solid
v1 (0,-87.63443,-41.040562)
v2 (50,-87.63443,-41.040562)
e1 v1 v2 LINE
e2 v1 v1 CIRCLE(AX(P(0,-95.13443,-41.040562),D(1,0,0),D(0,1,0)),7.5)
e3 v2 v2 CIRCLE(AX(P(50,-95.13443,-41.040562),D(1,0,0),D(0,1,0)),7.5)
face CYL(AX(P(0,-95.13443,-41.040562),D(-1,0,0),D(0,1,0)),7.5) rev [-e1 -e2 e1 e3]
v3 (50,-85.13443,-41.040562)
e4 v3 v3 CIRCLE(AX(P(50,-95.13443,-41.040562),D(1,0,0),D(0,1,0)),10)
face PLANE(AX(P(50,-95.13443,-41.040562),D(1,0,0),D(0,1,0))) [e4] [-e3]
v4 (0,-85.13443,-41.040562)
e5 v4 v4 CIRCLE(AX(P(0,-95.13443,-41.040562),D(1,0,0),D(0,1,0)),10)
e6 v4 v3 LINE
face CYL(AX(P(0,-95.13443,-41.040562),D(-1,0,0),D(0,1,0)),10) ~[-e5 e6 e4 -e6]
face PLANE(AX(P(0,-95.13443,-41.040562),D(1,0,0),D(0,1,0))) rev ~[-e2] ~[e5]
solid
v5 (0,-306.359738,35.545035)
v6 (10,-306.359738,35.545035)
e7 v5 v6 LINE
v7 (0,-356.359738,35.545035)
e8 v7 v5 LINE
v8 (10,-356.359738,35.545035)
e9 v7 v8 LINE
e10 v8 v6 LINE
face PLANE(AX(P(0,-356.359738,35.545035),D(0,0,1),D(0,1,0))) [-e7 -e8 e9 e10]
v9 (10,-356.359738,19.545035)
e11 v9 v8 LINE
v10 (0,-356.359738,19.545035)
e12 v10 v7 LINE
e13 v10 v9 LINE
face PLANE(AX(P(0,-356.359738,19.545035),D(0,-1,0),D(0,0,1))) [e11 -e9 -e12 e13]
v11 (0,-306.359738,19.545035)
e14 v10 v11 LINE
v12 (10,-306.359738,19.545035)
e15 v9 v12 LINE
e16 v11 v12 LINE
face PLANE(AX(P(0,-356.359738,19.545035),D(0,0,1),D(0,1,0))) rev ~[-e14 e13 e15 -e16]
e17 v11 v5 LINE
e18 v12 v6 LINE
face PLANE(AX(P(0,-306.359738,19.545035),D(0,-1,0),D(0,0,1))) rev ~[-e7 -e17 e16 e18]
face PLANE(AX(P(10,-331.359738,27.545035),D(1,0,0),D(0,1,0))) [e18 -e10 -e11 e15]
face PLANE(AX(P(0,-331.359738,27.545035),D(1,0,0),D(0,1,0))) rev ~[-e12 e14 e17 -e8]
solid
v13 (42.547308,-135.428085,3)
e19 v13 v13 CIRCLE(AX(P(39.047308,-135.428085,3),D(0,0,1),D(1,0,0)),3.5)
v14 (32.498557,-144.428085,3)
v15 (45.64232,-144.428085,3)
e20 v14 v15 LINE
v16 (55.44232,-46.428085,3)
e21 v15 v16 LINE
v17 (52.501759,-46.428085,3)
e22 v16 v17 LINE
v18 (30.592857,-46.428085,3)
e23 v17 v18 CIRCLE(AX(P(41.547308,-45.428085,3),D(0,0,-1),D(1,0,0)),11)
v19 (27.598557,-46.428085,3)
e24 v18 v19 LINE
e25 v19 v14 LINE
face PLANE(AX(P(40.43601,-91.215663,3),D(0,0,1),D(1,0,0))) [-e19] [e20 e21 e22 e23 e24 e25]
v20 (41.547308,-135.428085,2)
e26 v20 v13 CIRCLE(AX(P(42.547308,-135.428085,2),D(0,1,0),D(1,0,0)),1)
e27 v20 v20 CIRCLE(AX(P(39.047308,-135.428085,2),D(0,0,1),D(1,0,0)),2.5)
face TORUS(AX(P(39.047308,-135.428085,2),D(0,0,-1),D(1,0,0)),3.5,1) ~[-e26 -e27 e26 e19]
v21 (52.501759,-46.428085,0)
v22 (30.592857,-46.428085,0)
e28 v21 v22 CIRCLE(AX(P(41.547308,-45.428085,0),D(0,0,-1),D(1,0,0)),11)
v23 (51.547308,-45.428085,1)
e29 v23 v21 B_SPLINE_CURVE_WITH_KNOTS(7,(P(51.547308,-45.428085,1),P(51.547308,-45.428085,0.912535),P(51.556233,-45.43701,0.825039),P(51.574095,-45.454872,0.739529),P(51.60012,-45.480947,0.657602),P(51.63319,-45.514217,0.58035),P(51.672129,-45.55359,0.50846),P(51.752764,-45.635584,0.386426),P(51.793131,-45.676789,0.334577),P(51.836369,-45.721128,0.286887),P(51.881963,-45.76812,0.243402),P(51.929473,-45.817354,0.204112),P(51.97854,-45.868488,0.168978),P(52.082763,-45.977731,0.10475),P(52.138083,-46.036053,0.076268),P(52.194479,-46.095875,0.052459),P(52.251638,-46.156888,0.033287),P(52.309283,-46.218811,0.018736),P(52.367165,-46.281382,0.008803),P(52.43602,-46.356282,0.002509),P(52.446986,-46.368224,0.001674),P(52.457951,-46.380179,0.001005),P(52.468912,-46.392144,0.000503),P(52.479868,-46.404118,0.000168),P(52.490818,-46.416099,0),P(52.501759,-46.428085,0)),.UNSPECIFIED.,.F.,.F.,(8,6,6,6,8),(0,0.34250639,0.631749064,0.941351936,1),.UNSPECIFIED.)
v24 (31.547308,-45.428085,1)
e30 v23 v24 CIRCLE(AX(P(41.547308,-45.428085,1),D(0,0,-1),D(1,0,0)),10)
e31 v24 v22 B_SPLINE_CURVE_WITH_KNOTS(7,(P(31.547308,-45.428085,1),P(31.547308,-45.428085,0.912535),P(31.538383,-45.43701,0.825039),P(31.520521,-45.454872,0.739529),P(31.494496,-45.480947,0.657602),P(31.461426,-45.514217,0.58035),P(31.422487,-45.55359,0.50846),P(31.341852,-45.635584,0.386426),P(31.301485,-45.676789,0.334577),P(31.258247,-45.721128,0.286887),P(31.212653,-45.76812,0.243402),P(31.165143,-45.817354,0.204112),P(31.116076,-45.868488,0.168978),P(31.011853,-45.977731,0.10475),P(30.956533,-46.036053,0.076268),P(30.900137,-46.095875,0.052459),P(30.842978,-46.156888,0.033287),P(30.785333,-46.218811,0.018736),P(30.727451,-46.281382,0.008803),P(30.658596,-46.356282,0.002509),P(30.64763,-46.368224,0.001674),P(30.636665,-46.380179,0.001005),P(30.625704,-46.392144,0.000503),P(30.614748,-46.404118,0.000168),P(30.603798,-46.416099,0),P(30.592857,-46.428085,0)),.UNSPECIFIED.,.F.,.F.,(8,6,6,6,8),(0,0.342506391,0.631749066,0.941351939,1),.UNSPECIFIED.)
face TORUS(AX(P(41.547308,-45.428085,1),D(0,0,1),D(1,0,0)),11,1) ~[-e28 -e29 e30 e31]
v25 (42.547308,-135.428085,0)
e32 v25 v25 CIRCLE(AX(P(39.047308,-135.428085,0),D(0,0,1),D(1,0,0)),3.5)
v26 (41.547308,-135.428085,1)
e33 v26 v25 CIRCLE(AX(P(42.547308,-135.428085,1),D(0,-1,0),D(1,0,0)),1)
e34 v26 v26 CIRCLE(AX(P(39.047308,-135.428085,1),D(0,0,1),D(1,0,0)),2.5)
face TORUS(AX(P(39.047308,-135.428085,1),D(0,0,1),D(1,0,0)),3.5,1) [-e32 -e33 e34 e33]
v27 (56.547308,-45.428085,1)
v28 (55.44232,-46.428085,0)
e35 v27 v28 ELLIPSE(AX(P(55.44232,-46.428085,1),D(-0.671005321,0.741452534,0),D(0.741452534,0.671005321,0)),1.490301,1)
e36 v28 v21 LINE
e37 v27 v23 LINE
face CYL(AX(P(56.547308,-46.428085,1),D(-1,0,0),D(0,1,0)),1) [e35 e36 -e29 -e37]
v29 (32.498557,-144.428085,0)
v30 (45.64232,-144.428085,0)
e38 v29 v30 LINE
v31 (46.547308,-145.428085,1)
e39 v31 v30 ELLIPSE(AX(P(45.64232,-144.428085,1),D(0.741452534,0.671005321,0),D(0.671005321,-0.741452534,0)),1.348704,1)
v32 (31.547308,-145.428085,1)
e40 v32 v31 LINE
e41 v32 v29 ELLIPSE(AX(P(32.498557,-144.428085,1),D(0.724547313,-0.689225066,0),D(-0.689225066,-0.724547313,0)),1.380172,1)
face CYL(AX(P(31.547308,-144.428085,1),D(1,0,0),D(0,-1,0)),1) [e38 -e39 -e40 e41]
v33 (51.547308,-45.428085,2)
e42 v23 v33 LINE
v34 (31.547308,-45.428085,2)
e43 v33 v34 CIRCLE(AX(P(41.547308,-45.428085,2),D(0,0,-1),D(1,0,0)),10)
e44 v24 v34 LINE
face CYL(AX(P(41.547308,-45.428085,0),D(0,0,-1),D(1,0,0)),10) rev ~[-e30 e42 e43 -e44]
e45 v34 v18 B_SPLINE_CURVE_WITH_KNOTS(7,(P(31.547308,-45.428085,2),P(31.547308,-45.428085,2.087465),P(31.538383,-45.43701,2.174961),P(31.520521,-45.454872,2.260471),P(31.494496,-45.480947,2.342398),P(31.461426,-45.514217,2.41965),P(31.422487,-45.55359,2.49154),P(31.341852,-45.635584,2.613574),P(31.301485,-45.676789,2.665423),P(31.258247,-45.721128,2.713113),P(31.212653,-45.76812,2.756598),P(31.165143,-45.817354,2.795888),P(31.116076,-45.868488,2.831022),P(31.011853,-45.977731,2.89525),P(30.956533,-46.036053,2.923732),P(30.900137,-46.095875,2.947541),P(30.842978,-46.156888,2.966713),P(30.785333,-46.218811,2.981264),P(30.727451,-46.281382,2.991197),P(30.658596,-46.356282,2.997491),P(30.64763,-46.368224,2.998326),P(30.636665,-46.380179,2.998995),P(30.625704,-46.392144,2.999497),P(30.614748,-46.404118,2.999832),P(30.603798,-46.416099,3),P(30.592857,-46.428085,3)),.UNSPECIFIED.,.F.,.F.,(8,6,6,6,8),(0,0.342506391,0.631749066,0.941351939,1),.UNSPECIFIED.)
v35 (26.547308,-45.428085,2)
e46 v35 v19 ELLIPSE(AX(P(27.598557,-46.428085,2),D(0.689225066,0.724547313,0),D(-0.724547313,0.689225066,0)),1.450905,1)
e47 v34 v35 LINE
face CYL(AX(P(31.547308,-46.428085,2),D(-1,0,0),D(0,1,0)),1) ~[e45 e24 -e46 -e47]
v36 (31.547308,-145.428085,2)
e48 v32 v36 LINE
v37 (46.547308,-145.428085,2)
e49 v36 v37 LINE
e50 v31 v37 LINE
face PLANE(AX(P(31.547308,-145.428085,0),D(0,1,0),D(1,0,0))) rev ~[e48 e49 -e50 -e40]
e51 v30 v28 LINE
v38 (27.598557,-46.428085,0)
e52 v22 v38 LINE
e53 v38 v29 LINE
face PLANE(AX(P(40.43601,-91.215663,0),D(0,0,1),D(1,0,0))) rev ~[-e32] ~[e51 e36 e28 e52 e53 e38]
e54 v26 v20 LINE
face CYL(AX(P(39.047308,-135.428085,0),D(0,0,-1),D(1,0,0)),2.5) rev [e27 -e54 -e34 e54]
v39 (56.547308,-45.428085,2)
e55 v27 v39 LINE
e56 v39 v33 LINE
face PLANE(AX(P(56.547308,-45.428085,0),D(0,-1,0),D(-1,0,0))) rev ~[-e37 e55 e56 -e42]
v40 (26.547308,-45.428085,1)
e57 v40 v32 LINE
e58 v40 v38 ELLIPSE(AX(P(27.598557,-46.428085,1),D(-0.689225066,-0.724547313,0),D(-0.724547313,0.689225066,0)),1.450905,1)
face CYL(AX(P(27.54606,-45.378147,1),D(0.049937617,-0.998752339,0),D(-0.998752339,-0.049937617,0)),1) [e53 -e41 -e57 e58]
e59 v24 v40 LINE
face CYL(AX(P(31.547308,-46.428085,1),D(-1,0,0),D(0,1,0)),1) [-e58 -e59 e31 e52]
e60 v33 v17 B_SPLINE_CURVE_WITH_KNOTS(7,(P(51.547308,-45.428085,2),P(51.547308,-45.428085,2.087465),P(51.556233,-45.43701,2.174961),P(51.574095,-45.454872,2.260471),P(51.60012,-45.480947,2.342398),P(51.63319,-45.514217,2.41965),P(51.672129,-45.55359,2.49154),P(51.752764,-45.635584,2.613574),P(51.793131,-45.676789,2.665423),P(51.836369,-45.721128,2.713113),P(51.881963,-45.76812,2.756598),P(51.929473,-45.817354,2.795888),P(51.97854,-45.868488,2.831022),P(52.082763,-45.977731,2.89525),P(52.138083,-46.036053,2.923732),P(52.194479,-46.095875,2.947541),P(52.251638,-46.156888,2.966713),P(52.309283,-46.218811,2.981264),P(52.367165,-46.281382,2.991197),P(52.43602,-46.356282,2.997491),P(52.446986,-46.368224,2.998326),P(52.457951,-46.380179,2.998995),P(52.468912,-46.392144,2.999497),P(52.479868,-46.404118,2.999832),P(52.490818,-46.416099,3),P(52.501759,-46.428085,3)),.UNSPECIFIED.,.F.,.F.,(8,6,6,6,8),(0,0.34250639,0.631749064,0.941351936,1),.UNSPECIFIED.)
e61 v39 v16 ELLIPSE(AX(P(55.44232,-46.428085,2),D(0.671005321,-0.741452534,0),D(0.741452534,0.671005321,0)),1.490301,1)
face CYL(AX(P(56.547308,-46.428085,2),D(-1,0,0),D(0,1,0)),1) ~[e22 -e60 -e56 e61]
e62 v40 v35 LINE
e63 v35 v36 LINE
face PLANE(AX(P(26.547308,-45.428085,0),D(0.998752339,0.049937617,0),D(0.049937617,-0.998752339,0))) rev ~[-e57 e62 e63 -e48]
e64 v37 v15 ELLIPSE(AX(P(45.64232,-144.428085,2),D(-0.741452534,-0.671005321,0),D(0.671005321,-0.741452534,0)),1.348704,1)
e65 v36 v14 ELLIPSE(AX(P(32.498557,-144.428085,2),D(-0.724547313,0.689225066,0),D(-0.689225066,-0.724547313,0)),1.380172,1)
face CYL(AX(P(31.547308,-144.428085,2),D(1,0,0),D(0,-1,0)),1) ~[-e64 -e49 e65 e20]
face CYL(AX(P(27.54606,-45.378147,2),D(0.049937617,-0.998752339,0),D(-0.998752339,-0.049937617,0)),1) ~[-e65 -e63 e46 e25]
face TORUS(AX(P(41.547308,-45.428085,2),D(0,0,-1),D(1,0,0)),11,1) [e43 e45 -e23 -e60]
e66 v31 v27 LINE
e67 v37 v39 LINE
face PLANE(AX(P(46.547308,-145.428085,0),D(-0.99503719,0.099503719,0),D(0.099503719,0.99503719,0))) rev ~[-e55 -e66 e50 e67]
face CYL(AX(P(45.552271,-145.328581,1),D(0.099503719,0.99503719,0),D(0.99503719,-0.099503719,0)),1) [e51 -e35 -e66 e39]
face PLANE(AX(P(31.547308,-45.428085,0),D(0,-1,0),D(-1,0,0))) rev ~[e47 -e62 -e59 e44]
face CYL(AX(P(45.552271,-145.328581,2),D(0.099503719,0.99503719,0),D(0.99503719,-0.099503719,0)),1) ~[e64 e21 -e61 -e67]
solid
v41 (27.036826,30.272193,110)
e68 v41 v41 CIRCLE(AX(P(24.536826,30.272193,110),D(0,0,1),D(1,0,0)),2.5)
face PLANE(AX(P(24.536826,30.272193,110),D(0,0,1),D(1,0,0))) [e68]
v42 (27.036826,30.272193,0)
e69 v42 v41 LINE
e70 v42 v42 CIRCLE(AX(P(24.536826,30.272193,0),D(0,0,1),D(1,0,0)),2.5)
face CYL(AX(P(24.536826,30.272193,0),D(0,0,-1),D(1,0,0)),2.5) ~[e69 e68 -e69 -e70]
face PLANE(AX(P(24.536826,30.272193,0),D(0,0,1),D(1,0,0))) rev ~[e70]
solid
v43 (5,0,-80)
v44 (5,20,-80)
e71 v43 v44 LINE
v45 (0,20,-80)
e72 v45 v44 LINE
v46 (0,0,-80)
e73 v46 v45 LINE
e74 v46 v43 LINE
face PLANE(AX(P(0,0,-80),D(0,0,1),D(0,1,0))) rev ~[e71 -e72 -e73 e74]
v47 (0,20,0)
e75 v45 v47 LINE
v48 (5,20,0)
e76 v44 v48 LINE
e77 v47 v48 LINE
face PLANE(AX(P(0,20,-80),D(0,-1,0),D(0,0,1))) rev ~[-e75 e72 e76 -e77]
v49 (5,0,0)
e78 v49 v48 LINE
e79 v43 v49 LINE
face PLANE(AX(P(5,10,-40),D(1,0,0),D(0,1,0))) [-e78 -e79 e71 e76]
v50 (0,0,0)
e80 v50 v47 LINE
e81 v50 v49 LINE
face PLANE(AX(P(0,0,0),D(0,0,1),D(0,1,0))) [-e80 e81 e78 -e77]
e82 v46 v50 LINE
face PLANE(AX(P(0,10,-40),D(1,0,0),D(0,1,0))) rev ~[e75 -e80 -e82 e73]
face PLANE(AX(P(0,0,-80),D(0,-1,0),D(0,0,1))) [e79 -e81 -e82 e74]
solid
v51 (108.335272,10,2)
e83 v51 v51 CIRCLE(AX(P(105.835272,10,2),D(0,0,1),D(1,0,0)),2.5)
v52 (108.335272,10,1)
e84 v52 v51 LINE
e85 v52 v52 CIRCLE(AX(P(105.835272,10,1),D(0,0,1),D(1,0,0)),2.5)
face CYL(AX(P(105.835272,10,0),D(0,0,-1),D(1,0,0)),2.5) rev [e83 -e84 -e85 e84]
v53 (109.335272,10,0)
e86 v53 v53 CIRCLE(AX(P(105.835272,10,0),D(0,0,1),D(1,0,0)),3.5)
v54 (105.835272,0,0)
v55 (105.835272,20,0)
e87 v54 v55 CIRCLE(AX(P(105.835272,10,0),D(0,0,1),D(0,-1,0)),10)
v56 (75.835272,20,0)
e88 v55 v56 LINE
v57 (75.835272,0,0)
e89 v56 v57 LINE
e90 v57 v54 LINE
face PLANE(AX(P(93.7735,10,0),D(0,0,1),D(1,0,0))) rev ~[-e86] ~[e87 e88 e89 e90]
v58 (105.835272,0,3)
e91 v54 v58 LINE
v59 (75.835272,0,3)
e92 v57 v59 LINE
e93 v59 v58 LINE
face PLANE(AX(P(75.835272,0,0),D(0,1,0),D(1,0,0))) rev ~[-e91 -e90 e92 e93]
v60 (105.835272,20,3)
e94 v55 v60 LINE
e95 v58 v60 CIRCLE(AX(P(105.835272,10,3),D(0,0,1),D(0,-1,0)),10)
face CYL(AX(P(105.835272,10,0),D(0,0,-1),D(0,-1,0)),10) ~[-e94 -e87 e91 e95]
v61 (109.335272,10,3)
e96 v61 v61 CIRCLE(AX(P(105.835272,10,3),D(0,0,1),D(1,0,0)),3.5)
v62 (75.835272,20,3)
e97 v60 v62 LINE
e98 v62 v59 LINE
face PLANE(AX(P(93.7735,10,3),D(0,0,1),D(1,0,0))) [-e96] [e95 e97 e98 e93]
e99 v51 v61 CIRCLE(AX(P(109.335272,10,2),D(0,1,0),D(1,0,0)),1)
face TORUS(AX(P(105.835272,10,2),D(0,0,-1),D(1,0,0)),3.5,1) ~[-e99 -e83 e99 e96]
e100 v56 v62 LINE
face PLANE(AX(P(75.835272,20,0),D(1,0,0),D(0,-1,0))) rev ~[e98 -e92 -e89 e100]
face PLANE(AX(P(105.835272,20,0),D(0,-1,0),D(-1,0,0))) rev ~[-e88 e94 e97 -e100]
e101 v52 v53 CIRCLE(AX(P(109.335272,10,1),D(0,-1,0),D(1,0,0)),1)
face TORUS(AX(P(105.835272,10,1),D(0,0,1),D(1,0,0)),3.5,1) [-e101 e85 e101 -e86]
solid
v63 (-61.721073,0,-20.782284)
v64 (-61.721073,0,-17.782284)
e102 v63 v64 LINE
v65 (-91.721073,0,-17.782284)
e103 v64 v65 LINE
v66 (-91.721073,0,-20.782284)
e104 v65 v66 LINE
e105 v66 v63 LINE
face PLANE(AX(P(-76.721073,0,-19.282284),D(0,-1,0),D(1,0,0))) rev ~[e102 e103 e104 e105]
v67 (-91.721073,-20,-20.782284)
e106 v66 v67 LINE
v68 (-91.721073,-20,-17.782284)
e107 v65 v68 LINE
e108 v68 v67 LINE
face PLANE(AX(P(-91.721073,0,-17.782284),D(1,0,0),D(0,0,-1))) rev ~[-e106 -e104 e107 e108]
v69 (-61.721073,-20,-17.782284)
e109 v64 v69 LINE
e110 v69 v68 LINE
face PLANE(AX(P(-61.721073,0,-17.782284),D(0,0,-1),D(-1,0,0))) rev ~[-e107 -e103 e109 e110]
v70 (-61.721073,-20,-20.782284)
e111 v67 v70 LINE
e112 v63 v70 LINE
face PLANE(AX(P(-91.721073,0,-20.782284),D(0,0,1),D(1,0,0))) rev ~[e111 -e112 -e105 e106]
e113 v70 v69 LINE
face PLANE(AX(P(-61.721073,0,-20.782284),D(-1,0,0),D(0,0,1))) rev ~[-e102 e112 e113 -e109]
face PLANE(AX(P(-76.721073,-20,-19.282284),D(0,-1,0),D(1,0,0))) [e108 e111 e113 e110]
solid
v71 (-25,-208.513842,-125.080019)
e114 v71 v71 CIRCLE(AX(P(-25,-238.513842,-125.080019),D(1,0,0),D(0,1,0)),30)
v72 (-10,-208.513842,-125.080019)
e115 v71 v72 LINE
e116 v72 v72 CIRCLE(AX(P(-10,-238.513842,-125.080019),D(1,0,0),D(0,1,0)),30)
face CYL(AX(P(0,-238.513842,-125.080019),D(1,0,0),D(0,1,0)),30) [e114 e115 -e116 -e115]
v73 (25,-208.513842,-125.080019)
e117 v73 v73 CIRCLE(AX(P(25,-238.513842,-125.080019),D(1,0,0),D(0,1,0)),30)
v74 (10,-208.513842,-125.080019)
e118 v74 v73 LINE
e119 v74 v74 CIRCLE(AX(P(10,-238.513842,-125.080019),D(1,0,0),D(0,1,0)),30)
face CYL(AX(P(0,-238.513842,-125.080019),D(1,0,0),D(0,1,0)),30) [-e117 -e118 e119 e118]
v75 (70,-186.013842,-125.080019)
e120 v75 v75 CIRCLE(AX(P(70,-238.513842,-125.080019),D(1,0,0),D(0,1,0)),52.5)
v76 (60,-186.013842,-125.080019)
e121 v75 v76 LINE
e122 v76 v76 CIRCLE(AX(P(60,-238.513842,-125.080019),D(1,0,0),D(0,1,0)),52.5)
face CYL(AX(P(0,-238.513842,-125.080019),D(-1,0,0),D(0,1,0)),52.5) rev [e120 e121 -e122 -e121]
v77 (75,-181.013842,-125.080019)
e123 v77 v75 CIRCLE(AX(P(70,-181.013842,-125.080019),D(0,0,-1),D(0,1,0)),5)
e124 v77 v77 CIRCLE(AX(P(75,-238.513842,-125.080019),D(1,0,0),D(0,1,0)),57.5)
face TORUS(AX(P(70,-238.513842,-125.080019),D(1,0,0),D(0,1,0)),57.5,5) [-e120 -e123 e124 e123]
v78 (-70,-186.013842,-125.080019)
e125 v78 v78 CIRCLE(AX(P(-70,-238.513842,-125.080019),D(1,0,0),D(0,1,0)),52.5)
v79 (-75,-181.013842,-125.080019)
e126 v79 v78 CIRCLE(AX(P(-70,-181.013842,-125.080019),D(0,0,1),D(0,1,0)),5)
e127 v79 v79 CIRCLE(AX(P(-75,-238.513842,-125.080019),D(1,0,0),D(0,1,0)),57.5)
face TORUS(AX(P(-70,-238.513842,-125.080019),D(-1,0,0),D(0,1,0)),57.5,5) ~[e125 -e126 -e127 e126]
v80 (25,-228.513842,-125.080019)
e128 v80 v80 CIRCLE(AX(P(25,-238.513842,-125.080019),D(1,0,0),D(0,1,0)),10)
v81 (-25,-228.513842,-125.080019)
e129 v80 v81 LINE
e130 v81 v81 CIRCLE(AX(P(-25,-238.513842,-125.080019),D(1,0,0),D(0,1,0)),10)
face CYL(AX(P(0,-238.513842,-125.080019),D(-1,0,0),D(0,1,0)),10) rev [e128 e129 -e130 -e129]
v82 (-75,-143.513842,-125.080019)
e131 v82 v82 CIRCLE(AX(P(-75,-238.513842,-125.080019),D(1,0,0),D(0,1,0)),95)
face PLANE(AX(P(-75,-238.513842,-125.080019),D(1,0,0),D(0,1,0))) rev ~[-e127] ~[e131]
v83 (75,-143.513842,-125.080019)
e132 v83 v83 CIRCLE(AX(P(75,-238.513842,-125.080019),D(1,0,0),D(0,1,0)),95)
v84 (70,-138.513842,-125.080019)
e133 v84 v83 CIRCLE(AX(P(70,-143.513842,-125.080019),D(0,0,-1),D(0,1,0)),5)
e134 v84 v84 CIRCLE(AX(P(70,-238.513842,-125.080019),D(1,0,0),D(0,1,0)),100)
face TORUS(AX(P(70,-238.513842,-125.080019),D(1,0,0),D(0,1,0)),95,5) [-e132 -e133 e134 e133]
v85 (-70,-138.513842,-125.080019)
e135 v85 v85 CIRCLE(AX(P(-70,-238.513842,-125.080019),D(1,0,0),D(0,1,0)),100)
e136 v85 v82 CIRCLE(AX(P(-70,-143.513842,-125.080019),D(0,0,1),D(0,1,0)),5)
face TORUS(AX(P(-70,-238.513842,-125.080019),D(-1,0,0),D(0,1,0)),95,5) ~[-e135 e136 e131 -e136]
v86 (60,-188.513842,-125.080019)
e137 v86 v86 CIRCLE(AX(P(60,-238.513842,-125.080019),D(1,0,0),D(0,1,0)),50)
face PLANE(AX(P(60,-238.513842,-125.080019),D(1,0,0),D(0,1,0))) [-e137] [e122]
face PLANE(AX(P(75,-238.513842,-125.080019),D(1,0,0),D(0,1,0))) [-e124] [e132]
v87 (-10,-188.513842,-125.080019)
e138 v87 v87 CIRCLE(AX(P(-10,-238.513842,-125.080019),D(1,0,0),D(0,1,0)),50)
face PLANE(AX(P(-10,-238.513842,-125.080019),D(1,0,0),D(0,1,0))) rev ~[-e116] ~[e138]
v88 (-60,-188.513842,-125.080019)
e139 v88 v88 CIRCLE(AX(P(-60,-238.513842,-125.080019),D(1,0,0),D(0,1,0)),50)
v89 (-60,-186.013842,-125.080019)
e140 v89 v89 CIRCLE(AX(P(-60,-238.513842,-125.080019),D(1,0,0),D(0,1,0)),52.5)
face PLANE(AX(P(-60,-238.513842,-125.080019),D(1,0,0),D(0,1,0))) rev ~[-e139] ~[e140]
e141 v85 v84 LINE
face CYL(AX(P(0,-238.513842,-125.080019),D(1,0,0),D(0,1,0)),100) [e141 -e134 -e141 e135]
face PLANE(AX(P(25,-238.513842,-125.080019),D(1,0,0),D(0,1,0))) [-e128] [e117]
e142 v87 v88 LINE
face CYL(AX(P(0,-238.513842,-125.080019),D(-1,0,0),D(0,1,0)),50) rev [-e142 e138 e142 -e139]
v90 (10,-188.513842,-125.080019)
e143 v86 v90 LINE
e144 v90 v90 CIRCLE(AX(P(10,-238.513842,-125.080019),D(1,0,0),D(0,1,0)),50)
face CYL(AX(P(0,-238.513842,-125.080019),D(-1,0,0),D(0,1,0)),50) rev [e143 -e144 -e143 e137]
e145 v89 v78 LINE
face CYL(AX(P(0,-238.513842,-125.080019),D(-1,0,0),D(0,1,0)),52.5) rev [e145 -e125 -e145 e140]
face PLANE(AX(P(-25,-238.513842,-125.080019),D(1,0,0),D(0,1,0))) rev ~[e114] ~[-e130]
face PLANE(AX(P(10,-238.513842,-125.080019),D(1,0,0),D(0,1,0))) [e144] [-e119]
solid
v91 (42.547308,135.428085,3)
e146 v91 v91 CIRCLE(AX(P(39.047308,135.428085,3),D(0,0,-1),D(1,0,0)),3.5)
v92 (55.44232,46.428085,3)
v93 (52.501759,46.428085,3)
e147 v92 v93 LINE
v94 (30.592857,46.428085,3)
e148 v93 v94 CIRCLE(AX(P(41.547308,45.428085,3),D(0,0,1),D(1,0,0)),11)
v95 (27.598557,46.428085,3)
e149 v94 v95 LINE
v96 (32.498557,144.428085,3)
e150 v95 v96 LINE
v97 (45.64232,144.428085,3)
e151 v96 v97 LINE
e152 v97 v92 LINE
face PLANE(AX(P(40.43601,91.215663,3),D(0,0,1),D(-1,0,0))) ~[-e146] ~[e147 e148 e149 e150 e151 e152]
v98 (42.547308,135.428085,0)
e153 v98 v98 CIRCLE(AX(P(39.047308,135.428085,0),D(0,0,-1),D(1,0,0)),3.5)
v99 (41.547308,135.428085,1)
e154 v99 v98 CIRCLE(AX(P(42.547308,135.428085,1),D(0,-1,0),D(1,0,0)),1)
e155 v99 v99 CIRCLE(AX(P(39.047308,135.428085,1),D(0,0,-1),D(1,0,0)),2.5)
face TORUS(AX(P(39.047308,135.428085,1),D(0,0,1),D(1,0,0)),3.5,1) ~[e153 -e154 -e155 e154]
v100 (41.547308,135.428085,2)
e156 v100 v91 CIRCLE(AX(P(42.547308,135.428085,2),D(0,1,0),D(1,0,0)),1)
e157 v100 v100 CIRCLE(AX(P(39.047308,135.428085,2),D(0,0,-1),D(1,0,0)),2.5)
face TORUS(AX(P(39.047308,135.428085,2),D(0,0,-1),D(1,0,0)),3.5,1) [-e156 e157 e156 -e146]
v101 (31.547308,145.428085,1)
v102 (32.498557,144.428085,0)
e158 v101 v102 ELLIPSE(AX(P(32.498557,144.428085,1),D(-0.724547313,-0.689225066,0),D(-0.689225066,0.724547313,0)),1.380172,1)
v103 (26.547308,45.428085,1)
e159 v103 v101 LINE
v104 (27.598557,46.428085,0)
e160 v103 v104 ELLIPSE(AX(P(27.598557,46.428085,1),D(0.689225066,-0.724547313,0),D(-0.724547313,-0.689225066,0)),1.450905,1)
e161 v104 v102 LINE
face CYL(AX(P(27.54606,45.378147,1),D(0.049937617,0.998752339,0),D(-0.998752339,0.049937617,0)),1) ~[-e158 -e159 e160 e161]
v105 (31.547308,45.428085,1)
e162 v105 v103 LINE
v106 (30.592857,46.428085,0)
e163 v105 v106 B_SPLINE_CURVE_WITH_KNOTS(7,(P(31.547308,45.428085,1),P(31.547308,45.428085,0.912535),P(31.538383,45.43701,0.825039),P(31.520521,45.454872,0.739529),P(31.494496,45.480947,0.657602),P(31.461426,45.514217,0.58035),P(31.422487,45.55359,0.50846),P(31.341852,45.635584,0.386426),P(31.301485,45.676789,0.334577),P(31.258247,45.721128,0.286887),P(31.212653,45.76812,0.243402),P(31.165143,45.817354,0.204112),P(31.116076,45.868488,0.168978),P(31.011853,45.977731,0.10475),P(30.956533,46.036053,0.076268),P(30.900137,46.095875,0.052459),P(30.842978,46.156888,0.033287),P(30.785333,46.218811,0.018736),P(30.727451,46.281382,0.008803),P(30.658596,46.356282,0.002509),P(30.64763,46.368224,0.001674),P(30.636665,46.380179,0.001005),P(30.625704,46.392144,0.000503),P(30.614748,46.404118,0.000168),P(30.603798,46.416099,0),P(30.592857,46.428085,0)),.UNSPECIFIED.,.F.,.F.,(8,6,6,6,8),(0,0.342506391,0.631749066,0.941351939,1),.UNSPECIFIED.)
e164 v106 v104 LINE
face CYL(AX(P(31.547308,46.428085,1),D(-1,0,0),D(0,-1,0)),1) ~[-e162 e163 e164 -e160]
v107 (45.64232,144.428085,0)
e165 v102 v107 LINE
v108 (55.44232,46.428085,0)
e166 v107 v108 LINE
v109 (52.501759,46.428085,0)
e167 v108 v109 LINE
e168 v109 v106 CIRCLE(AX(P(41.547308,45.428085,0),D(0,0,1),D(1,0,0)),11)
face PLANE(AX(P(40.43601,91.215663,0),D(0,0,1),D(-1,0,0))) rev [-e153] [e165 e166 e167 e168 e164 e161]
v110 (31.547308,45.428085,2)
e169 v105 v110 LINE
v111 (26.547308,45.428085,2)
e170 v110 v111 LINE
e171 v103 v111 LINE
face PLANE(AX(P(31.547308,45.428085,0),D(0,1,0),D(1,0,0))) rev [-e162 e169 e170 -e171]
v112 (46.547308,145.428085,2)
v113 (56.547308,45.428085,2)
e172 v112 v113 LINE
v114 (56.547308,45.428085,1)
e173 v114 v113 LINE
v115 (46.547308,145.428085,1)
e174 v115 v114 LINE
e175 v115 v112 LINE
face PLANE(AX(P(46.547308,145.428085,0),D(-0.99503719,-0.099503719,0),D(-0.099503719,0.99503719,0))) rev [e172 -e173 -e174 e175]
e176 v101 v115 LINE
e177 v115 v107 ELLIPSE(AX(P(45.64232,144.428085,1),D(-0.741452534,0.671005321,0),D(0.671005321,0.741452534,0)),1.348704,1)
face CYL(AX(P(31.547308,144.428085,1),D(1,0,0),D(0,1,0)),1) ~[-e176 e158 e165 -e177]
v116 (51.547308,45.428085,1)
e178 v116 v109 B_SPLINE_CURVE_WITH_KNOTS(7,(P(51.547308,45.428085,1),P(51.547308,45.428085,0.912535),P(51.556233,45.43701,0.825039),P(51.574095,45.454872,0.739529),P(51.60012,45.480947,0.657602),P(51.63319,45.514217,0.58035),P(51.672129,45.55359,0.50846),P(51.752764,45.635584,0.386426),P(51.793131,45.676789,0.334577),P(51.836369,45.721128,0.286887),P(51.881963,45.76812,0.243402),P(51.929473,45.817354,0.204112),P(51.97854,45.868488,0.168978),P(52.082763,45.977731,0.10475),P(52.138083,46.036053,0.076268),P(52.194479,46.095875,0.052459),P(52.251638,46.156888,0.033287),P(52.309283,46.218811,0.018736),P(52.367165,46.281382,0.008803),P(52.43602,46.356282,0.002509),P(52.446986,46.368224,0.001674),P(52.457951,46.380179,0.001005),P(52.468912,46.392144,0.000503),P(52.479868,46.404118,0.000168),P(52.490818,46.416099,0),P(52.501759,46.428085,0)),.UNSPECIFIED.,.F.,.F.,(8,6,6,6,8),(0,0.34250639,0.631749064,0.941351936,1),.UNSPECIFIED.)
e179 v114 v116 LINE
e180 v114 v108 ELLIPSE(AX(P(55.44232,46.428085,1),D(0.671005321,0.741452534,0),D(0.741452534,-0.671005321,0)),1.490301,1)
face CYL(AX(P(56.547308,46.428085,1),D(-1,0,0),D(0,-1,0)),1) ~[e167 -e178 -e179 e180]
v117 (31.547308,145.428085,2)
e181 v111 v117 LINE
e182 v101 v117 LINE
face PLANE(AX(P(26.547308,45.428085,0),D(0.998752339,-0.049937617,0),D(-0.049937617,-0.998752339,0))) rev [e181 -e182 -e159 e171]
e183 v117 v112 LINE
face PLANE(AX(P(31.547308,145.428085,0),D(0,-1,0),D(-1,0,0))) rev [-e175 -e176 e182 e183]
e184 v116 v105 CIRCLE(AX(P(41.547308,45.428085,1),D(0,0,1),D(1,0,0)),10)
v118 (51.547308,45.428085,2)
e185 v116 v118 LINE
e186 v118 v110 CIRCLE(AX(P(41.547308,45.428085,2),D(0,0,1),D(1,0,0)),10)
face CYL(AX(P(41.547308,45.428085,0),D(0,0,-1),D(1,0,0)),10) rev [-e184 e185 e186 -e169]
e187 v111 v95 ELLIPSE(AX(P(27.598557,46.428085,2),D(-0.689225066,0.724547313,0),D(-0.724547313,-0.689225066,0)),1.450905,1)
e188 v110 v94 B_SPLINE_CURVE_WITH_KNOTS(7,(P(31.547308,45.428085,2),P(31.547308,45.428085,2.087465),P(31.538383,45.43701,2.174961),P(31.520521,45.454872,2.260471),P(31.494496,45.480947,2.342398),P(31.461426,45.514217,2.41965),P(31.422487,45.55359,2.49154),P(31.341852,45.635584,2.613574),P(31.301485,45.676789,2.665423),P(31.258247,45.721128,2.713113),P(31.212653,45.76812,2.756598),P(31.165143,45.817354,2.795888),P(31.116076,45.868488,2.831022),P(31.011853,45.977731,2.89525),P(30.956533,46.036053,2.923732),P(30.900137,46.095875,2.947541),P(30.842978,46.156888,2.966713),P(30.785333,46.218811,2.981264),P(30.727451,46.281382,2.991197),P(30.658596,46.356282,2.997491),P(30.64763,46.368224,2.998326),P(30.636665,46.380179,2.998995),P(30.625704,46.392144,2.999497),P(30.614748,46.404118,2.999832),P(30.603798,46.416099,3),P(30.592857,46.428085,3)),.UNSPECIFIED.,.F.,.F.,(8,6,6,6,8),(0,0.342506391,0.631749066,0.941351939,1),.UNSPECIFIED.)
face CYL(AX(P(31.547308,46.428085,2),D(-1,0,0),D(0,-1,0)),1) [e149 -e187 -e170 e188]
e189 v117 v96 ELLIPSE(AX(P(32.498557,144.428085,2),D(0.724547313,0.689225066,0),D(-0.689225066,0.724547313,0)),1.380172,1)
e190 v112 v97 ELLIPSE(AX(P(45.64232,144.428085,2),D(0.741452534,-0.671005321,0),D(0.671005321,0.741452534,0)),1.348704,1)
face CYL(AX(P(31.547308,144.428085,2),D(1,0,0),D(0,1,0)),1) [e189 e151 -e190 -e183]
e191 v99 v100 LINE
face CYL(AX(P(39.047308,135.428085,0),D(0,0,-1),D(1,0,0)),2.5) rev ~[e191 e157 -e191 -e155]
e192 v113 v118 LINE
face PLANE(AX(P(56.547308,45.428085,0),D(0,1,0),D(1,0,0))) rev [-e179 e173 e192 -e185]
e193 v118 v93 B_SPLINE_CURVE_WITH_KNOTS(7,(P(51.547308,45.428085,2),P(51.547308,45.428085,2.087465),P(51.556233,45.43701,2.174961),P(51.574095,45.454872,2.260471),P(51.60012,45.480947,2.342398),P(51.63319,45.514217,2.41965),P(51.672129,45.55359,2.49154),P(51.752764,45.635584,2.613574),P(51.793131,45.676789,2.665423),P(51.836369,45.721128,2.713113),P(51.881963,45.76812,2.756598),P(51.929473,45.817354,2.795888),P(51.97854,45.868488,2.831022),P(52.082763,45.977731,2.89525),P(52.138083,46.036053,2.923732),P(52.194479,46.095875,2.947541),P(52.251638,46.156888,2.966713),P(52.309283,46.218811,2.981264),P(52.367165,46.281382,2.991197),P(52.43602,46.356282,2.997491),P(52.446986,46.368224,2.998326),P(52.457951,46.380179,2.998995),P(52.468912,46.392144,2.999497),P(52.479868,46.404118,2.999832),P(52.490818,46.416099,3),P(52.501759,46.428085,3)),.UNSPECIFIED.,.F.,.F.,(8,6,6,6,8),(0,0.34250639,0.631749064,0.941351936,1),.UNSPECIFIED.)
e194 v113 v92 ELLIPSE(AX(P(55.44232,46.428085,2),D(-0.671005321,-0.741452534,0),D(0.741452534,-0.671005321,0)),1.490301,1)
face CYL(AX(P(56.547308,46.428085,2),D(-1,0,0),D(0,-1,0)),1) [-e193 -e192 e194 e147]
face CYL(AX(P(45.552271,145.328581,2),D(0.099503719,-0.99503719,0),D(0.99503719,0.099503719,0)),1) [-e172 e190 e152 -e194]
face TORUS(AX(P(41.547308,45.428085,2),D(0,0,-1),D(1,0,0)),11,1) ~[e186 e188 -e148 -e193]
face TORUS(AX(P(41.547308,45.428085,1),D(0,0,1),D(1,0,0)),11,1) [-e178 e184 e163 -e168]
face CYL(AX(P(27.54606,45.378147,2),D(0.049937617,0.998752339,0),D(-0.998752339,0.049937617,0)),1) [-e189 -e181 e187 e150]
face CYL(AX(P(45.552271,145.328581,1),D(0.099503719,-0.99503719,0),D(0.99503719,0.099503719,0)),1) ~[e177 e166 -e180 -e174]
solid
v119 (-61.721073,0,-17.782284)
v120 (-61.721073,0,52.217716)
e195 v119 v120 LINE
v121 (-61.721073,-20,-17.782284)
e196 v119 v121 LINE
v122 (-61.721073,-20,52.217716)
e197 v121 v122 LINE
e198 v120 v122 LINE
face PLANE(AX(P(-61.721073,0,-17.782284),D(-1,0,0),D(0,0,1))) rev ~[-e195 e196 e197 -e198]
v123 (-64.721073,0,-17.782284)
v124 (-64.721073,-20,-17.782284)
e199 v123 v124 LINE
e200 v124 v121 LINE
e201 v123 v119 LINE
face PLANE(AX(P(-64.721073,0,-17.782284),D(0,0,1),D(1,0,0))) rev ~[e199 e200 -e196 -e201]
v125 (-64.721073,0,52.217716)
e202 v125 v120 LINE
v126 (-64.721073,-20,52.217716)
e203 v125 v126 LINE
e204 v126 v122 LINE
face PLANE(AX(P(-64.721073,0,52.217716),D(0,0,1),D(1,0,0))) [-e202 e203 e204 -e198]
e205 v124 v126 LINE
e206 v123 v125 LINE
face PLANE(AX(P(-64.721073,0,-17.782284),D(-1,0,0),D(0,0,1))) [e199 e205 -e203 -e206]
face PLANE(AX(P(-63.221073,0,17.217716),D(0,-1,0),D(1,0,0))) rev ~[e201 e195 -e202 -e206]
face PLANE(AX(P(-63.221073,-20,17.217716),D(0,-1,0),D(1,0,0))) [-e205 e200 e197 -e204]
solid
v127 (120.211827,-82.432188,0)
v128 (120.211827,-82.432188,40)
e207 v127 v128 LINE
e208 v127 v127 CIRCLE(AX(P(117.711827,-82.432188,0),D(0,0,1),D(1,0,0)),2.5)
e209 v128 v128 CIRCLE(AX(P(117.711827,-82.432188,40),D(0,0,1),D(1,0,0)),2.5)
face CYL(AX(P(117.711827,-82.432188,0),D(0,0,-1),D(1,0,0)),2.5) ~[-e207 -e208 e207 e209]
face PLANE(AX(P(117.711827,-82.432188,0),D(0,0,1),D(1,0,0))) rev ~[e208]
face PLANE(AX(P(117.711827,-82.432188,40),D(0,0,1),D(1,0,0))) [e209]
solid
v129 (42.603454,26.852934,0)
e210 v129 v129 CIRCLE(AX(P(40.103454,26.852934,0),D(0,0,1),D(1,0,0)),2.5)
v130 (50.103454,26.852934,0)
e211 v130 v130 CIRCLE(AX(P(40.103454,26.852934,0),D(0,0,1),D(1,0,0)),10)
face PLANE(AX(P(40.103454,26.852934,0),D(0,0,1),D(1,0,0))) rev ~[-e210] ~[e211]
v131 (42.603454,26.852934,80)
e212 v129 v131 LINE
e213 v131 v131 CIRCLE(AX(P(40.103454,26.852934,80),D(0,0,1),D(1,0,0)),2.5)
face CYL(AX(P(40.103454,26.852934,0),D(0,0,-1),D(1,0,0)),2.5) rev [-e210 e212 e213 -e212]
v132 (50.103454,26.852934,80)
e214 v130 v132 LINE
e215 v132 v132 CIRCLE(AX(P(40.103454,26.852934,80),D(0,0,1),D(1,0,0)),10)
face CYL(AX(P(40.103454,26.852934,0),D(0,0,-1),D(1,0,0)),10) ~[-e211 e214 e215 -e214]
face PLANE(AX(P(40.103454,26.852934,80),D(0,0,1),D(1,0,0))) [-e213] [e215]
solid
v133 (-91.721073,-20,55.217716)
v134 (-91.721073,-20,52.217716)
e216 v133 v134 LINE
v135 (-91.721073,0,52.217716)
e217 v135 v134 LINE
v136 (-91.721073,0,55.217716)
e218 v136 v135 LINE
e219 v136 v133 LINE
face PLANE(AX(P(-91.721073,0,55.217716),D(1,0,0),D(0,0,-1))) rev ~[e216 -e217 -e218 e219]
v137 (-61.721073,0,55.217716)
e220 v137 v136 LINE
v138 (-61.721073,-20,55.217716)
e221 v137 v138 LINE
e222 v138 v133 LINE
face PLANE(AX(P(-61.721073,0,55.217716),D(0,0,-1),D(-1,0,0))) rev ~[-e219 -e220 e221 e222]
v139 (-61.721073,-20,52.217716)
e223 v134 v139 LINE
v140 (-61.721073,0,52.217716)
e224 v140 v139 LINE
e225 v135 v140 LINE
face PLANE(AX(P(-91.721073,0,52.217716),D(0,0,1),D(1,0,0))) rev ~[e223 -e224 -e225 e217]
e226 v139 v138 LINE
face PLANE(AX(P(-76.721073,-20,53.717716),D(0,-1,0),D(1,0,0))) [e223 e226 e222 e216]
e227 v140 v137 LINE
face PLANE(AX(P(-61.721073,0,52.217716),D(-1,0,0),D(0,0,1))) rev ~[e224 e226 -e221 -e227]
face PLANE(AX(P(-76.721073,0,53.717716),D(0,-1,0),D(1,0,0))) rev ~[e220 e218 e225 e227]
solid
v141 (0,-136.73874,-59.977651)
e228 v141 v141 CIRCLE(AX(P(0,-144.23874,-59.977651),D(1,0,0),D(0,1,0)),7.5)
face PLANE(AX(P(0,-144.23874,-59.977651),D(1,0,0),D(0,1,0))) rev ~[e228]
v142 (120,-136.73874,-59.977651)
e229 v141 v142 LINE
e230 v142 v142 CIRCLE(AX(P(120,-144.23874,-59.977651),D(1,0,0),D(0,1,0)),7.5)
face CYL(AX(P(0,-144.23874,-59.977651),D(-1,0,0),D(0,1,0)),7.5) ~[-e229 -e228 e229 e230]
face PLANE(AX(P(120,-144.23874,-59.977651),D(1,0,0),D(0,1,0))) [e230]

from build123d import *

# Parameters (mm, degrees)
F1_W      = 20
F1_H      = 80
F2_DEPTH  = 5
F3_R      = 2.5
F5_DEPTH  = 110
F4_R      = 10
F4_R_2    = 2.5
F6_DEPTH  = 80
F7_R      = 2.5
F8_DEPTH  = 3
F9_R      = 2.5
F10_DEPTH = 40
F0_R      = 2.5
F11_DEPTH = 3
F13_DEPTH = 20
F12_W     = 3
F12_H     = 70
F14_DEPTH = 20
F15_R     = 10
F15_R_2   = 7.5
F16_DEPTH = 50
F17_R     = 7.5
F19_DEPTH = 120
F18_R     = 30
F18_R_2   = 10
F20_DEPTH = 25
F18_R_3   = 50
F21_DEPTH = 10
F18_R_4   = 52.5
F22_DEPTH = 60
F18_R_5   = 100
F23_DEPTH = 75
F24_R     = 5
F25_R     = 1
F26_R     = 1
F27_W     = 50
F27_H     = 16
F28_DEPTH = 10


with BuildPart() as f2:
    # F1 (on Right) → F2 (new body)
    with BuildSketch(Plane.YZ):
        with Locations((10, -40)):
            Rectangle(F1_W, F1_H)
    extrude(amount=F2_DEPTH)


with BuildPart() as f5:
    # F3 (on Top) → F5 (new body)
    with BuildSketch(Plane.XY):
        with Locations((24.536826, 30.272193)):
            Circle(F3_R)
    extrude(amount=F5_DEPTH)


with BuildPart() as f6:
    # F4 (on Top) → F6 (new body)
    with BuildSketch(Plane.XY):
        with Locations((40.103454, 26.852934)):
            Circle(F4_R)
        with Locations((40.103454, 26.852934)):
            Circle(F4_R_2, mode=Mode.SUBTRACT)
    extrude(amount=F6_DEPTH)


with BuildPart() as f8:
    # F7 (on Top) → F8 (new body)
    with BuildSketch(Plane.XY):
        with BuildLine():
            ThreePointArc((51.547308, -45.428085), (41.547308, -55.428085), (31.547308, -45.428085))
            Line((31.547308, -45.428085), (26.547308, -45.428085))
            Line((26.547308, -45.428085), (31.547308, -145.428085))
            Line((31.547308, -145.428085), (46.547308, -145.428085))
            Line((46.547308, -145.428085), (56.547308, -45.428085))
            Line((56.547308, -45.428085), (51.547308, -45.428085))
        make_face()
        with Locations((39.047308, -135.428085)):
            Circle(F7_R, mode=Mode.SUBTRACT)
    extrude(amount=F8_DEPTH)

    # F26
    f26_edges = [f8.edges().sort_by_distance(p)[0] for p in [
        (41.547308, -55.428085, 3),
        (29.047308, -45.428085, 3),
        (29.047308, -95.428085, 3),
        (39.047308, -145.428085, 3),
        (51.547308, -95.428085, 3),
        (54.047308, -45.428085, 3),
        (36.547308, -135.428085, 3),
        (41.547308, -55.428085, 0),
        (29.047308, -45.428085, 0),
        (29.047308, -95.428085, 0),
        (39.047308, -145.428085, 0),
        (51.547308, -95.428085, 0),
        (54.047308, -45.428085, 0),
        (36.547308, -135.428085, 0),
    ]]
    fillet(f26_edges, radius=F26_R)


with BuildPart() as f10:
    # F9 (on Top) → F10 (new body)
    with BuildSketch(Plane.XY):
        with Locations((117.711827, -82.432188)):
            Circle(F9_R)
    extrude(amount=F10_DEPTH)


with BuildPart() as f11:
    # F0 (on Top) → F11 (new body)
    with BuildSketch(Plane.XY):
        with BuildLine():
            Line((105.835272, 20), (75.835272, 20))
            Line((75.835272, 20), (75.835272, 0))
            Line((75.835272, 0), (105.835272, 0))
            ThreePointArc((105.835272, 0), (115.835272, 10), (105.835272, 20))
        make_face()
        with Locations((105.835272, 10)):
            Circle(F0_R, mode=Mode.SUBTRACT)
    extrude(amount=F11_DEPTH)

    # F25
    f25_edges = [f11.edges().sort_by_distance(p)[0] for p in [
        (103.335272, 10, 3),
        (103.335272, 10, 0),
    ]]
    fillet(f25_edges, radius=F25_R)


with BuildPart() as f13:
    # F12 (on Front) → F13 (new body)
    with BuildSketch(Plane.XZ):
        Polygon((-64.721073, 52.217716), (-61.721073, 52.217716), (-61.721073, 55.217716), (-91.721073, 55.217716), (-91.721073, 52.217716), align=None)
        Polygon((-91.721073, -17.782284), (-91.721073, -20.782284), (-61.721073, -20.782284), (-61.721073, -17.782284), (-64.721073, -17.782284), align=None)
    extrude(amount=F13_DEPTH)


with BuildPart() as f14:
    # F12 (on Front) → F14 (new body)
    with BuildSketch(Plane.XZ):
        with Locations((-63.221073, 17.217716)):
            Rectangle(F12_W, F12_H)
    extrude(amount=F14_DEPTH)


with BuildPart() as f16:
    # F15 (on Right) → F16 (new body)
    with BuildSketch(Plane.YZ):
        with Locations((-95.13443, -41.040562)):
            Circle(F15_R)
        with Locations((-95.13443, -41.040562)):
            Circle(F15_R_2, mode=Mode.SUBTRACT)
    extrude(amount=F16_DEPTH)


with BuildPart() as f19:
    # F17 (on Right) → F19 (new body)
    with BuildSketch(Plane.YZ):
        with Locations((-144.23874, -59.977651)):
            Circle(F17_R)
    extrude(amount=F19_DEPTH)


with BuildPart() as f20:
    # F18 (on Right) → F20 (new body, symmetric)
    with BuildSketch(Plane.YZ):
        with Locations((-238.513842, -125.080019)):
            Circle(F18_R)
        with Locations((-238.513842, -125.080019)):
            Circle(F18_R_2, mode=Mode.SUBTRACT)
    extrude(amount=F20_DEPTH, both=True)

    # F18 (on Right) → F21 (join, symmetric)
    with BuildSketch(Plane.YZ):
        with Locations((-238.513842, -125.080019)):
            Circle(F18_R_3)
        with Locations((-238.513842, -125.080019)):
            Circle(F18_R, mode=Mode.SUBTRACT)
    extrude(amount=F21_DEPTH, both=True)

    # F18 (on Right) → F22 (join, symmetric)
    with BuildSketch(Plane.YZ):
        with Locations((-238.513842, -125.080019)):
            Circle(F18_R_4)
        with Locations((-238.513842, -125.080019)):
            Circle(F18_R_3, mode=Mode.SUBTRACT)
    extrude(amount=F22_DEPTH, both=True)

    # F18 (on Right) → F23 (join, symmetric)
    with BuildSketch(Plane.YZ):
        with Locations((-238.513842, -125.080019)):
            Circle(F18_R_5)
        with Locations((-238.513842, -125.080019)):
            Circle(F18_R_4, mode=Mode.SUBTRACT)
    extrude(amount=F23_DEPTH, both=True)

    # F24
    f24_edges = [f20.edges().sort_by_distance(p)[0] for p in [
        (75, -338.513842, -125.080019),
        (75, -291.013842, -125.080019),
        (-75, -338.513842, -125.080019),
        (0, -138.513842, -125.080019),
        (-75, -291.013842, -125.080019),
    ]]
    fillet(f24_edges, radius=F24_R)


with BuildPart() as f28:
    # F27 (on Right) → F28 (new body)
    with BuildSketch(Plane.YZ):
        with Locations((-331.359738, 27.545035)):
            Rectangle(F27_W, F27_H)
    extrude(amount=F28_DEPTH)


with BuildPart() as f29_1:
    # F29: instance of F8
    add(f8.part.mirror(Plane.XZ))


solid = Compound([f2.part, f5.part, f6.part, f8.part, f10.part, f11.part, f13.part, f14.part, f16.part, f19.part, f20.part, f28.part, f29_1.part])
